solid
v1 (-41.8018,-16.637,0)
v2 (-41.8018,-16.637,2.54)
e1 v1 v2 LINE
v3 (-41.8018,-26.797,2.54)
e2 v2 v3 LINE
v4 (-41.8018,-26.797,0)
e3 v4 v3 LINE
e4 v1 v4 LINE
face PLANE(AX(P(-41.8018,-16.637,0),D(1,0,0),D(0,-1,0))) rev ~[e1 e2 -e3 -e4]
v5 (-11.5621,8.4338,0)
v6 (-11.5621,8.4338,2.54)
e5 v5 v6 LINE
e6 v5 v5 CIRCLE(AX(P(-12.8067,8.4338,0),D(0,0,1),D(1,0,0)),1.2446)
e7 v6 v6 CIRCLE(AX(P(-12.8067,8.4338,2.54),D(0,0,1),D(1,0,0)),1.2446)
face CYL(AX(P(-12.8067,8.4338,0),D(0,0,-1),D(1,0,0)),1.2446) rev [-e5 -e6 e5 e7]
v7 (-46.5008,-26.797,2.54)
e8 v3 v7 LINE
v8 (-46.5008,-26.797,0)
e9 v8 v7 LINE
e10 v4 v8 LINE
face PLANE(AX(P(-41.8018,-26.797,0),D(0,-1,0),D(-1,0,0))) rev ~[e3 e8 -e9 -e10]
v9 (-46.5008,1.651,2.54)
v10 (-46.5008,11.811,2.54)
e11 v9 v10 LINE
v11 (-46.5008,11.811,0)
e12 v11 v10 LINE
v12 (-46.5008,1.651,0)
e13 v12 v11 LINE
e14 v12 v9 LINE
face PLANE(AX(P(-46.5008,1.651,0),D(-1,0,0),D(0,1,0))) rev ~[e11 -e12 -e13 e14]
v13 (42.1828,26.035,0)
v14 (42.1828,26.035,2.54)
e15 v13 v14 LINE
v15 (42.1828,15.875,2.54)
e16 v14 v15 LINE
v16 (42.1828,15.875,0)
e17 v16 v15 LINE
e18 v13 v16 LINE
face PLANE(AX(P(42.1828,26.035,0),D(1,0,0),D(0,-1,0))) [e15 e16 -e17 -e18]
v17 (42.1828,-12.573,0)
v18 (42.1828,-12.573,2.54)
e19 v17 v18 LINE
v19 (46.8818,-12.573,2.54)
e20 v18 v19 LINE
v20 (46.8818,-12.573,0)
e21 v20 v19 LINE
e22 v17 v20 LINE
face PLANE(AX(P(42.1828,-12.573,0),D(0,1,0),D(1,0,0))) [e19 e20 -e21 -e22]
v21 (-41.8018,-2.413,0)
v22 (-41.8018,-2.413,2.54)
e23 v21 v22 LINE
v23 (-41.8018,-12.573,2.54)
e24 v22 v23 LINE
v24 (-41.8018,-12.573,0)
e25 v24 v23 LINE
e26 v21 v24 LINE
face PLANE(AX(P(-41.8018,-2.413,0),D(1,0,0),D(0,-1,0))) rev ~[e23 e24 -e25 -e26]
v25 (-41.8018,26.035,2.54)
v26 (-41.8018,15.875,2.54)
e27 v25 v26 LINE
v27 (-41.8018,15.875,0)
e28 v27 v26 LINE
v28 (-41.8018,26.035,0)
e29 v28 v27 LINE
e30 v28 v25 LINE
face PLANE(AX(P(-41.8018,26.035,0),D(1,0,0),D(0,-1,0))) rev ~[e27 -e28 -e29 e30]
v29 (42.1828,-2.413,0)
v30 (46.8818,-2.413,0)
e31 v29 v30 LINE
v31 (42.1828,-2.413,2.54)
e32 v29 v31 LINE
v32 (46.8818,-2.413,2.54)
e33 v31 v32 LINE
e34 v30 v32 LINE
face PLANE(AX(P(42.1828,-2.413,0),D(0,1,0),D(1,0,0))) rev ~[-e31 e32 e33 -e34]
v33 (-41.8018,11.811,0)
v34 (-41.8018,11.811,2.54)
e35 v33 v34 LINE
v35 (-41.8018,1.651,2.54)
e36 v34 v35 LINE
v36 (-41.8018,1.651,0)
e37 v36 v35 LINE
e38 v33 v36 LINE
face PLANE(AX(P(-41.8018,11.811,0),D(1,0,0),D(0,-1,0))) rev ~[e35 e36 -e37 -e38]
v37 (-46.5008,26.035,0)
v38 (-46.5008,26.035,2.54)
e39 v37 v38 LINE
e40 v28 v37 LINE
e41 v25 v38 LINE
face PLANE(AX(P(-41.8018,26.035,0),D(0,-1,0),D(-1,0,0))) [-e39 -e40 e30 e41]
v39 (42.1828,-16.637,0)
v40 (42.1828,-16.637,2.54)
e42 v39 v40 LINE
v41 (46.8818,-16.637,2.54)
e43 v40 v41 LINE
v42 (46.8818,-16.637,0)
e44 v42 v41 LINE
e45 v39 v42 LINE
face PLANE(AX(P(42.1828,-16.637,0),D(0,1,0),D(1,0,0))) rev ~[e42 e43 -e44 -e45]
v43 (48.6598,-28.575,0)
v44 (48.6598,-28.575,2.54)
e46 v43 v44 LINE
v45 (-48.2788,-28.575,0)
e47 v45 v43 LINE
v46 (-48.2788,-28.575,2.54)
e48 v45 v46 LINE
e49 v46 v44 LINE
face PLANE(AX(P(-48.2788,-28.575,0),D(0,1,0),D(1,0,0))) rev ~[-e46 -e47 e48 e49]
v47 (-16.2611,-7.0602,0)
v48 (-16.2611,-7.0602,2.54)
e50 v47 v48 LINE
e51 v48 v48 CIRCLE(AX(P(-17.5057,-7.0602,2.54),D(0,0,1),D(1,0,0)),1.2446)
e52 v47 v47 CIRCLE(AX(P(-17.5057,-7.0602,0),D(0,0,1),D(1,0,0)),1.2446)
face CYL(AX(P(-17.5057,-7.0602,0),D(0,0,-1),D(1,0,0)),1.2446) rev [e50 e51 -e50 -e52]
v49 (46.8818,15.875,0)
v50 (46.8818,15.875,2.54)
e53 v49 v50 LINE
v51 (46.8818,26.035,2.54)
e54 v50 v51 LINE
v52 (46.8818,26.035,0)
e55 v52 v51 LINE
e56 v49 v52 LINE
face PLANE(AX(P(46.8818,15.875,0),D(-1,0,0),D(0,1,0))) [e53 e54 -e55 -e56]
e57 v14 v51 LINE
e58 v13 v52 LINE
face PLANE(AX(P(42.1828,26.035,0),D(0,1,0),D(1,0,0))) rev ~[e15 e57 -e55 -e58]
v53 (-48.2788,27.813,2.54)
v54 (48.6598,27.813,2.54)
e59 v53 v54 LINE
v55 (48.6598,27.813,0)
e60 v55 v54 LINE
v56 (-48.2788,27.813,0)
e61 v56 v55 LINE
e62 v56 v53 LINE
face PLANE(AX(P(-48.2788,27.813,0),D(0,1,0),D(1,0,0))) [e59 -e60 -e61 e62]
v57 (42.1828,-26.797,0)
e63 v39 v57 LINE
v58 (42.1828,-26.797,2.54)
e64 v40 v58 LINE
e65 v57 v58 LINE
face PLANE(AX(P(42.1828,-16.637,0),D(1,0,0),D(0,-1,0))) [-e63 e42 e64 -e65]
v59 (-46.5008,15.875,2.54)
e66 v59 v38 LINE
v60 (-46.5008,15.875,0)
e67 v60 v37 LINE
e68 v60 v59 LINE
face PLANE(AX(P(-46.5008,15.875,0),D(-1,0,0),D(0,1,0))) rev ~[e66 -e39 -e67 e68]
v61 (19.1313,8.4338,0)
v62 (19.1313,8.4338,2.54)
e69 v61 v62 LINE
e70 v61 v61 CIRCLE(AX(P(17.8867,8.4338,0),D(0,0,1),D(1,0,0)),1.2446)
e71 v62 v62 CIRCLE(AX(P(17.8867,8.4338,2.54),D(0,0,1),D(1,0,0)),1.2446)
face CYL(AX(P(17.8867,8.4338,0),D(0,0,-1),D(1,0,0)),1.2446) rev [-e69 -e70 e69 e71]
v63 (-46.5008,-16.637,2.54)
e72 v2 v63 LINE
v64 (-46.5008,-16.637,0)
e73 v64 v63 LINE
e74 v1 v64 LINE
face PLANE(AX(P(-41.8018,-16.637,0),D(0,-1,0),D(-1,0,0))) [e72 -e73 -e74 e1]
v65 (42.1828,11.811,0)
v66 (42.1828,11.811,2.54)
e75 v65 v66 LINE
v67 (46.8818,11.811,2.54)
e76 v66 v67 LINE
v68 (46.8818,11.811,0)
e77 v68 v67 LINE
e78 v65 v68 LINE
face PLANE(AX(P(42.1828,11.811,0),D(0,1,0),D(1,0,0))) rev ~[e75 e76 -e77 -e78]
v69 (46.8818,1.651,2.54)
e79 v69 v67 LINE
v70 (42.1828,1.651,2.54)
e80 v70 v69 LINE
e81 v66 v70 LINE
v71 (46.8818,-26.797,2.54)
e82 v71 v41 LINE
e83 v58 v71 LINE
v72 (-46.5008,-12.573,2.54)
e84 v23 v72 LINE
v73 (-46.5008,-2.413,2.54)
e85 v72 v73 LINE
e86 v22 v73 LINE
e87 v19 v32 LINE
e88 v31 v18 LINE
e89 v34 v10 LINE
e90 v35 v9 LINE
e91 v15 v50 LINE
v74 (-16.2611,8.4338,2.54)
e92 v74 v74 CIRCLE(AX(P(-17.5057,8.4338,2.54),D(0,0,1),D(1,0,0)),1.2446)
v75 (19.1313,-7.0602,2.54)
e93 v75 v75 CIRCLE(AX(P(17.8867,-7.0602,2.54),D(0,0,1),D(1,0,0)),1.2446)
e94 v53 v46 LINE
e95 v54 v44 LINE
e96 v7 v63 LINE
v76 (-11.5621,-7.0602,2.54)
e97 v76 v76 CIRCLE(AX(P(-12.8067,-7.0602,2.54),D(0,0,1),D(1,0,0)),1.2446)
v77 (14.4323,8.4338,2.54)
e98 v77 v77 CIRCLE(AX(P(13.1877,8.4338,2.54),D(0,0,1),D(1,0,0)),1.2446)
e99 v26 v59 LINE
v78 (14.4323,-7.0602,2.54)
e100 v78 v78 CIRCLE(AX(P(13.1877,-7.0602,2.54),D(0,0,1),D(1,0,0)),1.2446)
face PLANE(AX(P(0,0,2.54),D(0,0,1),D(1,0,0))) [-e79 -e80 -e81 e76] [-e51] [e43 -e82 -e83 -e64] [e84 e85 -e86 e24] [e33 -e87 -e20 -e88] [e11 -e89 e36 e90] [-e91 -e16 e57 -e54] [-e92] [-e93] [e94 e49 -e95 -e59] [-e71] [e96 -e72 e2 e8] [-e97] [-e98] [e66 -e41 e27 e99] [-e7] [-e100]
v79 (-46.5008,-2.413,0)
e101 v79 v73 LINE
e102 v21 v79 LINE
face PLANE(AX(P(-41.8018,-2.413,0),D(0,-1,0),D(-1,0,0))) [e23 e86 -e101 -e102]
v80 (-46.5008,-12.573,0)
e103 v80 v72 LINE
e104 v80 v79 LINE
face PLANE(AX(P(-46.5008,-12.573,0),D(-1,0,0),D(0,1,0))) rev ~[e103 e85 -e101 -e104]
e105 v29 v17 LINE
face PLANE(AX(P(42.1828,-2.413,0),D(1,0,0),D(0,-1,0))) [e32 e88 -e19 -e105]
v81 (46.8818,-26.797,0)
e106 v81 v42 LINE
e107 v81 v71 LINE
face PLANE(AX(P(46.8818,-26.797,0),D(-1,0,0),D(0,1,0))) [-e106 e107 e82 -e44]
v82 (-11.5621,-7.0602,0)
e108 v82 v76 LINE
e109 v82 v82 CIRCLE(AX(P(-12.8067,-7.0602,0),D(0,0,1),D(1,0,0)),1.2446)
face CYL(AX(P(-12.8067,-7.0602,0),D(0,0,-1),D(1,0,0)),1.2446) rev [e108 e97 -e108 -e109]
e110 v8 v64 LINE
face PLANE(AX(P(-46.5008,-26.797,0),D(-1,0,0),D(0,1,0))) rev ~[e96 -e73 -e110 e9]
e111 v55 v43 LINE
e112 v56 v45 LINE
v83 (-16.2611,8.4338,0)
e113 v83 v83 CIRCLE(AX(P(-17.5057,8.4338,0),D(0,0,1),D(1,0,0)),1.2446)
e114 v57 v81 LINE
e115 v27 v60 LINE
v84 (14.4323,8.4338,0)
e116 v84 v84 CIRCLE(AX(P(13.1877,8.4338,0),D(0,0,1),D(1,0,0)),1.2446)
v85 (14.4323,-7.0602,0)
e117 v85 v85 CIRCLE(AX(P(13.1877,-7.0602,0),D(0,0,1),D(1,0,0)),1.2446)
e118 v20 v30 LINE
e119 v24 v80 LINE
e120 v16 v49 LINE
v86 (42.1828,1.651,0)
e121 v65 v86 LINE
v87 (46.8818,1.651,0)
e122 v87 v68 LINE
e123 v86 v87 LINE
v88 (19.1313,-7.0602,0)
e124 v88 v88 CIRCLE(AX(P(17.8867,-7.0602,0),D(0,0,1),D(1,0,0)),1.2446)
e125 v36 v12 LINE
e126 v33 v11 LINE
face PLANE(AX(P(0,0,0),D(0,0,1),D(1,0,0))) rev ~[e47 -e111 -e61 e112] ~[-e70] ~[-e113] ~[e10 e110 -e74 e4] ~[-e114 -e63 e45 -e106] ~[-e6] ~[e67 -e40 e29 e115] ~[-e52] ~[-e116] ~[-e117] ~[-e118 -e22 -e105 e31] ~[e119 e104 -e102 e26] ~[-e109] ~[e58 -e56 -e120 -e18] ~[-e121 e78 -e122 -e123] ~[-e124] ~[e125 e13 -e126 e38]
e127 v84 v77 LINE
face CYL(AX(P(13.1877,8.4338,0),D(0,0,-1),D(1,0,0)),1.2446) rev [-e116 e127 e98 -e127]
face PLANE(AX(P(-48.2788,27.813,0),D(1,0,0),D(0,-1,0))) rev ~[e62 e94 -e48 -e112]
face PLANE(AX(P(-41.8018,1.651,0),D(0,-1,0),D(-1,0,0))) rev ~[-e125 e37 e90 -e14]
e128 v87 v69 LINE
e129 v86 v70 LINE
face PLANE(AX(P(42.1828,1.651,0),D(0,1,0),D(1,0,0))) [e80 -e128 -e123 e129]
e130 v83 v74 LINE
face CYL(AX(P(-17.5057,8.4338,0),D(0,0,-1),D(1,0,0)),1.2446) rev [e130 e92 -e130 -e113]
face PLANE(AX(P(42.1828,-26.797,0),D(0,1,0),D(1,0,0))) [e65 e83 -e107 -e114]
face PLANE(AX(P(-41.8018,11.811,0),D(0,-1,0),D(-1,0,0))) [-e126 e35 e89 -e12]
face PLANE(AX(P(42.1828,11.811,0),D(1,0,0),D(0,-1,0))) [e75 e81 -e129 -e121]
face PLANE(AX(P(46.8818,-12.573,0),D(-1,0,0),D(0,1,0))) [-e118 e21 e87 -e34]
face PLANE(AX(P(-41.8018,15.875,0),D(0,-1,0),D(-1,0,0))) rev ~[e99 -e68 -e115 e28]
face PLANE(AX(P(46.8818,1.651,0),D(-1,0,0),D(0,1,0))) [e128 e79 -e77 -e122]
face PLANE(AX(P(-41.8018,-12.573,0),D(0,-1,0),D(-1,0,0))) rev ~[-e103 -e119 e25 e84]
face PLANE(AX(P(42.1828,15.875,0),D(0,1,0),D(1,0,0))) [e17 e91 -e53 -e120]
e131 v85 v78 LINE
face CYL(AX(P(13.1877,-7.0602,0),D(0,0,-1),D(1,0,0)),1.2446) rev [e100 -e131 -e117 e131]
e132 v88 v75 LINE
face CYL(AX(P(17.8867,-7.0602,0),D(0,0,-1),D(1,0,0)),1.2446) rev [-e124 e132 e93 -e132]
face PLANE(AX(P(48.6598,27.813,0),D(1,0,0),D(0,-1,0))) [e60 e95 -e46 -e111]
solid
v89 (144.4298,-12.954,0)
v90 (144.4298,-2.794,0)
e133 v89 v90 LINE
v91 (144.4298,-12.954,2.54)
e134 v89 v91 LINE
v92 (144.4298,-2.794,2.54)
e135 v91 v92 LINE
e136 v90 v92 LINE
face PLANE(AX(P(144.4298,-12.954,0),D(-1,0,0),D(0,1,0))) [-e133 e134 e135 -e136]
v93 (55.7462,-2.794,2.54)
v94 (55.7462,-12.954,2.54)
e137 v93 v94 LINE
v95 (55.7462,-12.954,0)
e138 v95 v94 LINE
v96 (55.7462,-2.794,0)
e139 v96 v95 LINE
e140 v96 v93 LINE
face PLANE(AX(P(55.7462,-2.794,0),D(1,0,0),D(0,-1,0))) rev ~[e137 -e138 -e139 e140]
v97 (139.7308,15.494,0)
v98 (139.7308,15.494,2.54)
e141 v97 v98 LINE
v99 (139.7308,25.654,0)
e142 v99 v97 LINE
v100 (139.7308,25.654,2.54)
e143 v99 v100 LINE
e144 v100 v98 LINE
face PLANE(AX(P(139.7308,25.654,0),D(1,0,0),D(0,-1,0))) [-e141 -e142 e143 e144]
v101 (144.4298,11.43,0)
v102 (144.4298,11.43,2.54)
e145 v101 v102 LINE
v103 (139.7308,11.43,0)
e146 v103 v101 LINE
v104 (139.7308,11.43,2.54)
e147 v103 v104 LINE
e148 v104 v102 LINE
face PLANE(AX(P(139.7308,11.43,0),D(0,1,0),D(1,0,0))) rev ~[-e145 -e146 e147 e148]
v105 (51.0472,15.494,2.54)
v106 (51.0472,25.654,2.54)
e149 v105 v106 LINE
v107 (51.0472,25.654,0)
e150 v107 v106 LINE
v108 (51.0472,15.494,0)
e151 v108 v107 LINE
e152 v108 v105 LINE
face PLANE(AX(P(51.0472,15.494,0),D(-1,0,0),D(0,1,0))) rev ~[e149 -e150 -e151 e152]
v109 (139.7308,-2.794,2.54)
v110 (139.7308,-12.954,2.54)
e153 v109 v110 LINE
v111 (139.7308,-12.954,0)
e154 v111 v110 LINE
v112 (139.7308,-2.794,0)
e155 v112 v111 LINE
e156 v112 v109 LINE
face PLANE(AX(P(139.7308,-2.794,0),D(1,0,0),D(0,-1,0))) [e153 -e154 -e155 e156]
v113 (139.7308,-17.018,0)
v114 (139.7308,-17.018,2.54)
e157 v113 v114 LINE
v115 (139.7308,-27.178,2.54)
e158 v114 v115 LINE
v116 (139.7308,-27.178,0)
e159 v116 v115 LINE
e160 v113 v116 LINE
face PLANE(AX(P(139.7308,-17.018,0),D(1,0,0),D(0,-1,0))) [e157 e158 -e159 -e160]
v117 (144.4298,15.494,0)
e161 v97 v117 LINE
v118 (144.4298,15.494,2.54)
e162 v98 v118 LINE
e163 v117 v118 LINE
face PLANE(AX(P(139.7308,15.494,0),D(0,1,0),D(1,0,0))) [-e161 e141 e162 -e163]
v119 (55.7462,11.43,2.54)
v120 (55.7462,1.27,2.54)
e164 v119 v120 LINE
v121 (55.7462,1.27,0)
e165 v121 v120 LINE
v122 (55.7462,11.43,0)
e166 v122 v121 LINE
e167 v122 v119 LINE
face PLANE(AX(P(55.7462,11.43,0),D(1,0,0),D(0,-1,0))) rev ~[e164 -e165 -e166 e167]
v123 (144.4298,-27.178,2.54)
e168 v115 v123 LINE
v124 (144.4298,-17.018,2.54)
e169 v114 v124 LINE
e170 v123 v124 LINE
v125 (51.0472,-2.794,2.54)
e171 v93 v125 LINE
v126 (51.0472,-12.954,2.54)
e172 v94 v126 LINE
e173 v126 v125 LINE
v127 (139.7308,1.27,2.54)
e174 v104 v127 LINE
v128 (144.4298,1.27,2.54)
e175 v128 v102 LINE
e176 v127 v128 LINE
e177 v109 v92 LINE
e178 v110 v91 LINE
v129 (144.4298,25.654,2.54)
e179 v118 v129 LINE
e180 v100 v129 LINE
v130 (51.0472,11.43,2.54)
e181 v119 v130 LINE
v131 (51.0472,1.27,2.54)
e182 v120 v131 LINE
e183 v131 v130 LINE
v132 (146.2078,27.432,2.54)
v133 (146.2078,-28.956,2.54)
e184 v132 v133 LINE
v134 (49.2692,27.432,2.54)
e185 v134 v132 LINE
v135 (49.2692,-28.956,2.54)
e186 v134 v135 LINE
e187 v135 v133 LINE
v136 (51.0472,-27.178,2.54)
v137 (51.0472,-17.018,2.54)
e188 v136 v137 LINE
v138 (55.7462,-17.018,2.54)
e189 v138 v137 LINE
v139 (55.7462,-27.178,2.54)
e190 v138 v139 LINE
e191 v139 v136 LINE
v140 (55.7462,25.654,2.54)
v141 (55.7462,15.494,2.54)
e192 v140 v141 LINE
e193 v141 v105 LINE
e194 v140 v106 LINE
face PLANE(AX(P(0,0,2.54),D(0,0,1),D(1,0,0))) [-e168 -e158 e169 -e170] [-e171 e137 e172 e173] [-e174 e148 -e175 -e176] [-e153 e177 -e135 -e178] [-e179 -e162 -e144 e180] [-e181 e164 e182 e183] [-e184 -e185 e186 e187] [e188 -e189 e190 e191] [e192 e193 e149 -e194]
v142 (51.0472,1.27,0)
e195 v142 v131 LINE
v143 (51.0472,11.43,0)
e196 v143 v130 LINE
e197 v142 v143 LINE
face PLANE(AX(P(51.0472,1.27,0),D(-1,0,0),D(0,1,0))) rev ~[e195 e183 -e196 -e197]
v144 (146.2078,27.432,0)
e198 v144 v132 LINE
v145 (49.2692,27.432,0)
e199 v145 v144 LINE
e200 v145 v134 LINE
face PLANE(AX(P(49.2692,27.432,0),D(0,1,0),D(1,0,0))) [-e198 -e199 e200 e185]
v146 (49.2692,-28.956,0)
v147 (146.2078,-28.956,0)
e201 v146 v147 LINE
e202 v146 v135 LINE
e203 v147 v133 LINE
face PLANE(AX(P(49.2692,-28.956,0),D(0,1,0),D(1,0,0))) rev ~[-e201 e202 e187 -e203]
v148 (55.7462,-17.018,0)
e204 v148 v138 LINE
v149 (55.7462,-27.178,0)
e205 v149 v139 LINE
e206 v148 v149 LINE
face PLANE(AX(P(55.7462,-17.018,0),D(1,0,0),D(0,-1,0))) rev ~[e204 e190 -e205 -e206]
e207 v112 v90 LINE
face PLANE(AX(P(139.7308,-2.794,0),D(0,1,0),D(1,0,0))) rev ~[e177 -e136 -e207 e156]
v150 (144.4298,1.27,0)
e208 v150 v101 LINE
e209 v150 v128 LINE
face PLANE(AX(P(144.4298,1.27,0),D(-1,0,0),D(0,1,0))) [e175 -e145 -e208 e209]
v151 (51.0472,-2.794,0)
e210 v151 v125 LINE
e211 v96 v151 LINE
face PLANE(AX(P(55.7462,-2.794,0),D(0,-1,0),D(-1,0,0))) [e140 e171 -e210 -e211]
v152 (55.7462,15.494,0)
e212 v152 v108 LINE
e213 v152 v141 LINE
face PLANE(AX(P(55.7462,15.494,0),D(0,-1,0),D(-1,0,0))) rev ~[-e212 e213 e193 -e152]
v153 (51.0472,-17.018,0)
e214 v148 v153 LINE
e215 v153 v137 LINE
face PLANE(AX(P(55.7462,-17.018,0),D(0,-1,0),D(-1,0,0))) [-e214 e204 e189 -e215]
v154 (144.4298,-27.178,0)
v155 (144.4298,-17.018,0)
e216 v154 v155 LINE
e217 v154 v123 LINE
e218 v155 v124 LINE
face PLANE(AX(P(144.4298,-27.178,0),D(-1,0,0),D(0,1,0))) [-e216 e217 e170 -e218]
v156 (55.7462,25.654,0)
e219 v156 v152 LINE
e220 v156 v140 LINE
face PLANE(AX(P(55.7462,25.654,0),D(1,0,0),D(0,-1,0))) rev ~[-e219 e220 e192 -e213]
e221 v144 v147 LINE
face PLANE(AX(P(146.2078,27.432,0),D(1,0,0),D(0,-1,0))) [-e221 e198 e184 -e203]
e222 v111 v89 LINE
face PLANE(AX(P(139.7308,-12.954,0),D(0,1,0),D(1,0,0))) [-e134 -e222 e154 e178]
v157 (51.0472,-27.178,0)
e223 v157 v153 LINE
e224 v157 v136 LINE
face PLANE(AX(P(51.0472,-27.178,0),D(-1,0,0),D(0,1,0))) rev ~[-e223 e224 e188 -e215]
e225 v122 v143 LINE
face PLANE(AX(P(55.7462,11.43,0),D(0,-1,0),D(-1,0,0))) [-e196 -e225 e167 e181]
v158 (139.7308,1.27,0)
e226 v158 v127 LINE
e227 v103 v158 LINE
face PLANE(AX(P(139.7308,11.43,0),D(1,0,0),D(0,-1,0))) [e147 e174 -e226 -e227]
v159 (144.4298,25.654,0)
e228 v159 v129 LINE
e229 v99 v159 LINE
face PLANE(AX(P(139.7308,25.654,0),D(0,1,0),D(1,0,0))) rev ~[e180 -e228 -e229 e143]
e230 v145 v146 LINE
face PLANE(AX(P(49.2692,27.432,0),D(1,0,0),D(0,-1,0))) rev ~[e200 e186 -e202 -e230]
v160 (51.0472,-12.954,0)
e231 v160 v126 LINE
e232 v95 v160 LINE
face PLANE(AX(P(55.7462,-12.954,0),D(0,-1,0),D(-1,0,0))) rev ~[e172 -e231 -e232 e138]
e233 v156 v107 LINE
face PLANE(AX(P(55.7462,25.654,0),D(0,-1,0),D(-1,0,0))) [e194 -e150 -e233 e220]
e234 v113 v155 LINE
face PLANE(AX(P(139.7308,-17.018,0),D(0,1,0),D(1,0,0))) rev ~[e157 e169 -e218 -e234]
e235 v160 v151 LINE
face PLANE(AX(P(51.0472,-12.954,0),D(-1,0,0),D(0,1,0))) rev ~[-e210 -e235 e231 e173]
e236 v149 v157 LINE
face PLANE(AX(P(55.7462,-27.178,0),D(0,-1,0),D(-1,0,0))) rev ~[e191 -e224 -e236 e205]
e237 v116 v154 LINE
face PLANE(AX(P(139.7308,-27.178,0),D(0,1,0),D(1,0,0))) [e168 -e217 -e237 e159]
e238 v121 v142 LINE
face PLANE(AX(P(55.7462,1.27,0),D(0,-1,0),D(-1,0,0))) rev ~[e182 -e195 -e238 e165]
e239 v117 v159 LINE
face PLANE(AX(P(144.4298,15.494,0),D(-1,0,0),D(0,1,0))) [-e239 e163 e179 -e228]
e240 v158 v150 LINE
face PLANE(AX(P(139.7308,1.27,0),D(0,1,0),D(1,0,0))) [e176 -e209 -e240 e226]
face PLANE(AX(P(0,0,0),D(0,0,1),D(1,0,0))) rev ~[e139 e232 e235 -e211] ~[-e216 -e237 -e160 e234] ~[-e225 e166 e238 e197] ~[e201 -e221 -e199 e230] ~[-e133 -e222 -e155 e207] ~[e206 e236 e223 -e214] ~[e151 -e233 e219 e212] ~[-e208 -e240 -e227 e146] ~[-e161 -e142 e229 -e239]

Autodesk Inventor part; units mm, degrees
ref_plane "YZ Plane" through (0, 0, 0) normal (1, 0, 0) x (0, 1, 0)
ref_plane "XZ Plane" through (0, 0, 0) normal (0, 1, 0) x (-1, 0, 0)
ref_plane "XY Plane" through (0, 0, 0) normal (0, 0, 1) x (1, 0, 0)
sketch "Sketch1" plane through (0, 0, 0) normal (0, 0, 1) x (1, 0, 0)
  circle A0 centre (17.8867, 8.4338) radius 1.2446
  circle A1 centre (17.8867, -7.0602) radius 1.2446
  circle A2 centre (13.1877, -7.0602) radius 1.2446
  circle A3 centre (13.1877, 8.4338) radius 1.2446
  line L0 (42.1828, 26.035) -> (42.1828, 15.875)
  line L1 (42.1828, 15.875) -> (46.8818, 15.875)
  line L2 (46.8818, 15.875) -> (46.8818, 26.035)
  line L3 (42.1828, 26.035) -> (46.8818, 26.035)
  line L4 (48.6598, 27.813) -> (48.6598, -28.575)
  line L5 (42.1828, 1.651) -> (46.8818, 1.651)
  line L6 (42.1828, 11.811) -> (42.1828, 1.651)
  line L7 (46.8818, 1.651) -> (46.8818, 11.811)
  line L8 (42.1828, 11.811) -> (46.8818, 11.811)
  line L9 (42.1828, -12.573) -> (46.8818, -12.573)
  line L10 (42.1828, -2.413) -> (42.1828, -12.573)
  line L11 (46.8818, -12.573) -> (46.8818, -2.413)
  line L12 (42.1828, -2.413) -> (46.8818, -2.413)
  line L13 (42.1828, -26.797) -> (46.8818, -26.797)
  line L14 (42.1828, -16.637) -> (42.1828, -26.797)
  line L15 (46.8818, -26.797) -> (46.8818, -16.637)
  line L16 (42.1828, -16.637) -> (46.8818, -16.637)
  line L17 (-41.8018, 26.035) -> (-41.8018, 15.875)
  line L18 (-41.8018, 15.875) -> (-46.5008, 15.875)
  line L19 (-46.5008, 15.875) -> (-46.5008, 26.035)
  line L20 (-41.8018, 26.035) -> (-46.5008, 26.035)
  line L21 (-48.2788, 27.813) -> (-48.2788, -28.575)
  line L22 (-41.8018, 1.651) -> (-46.5008, 1.651)
  line L23 (-41.8018, 11.811) -> (-41.8018, 1.651)
  line L24 (-46.5008, 1.651) -> (-46.5008, 11.811)
  line L25 (-41.8018, 11.811) -> (-46.5008, 11.811)
  line L26 (-41.8018, -12.573) -> (-46.5008, -12.573)
  line L27 (-41.8018, -2.413) -> (-41.8018, -12.573)
  line L28 (-46.5008, -12.573) -> (-46.5008, -2.413)
  line L29 (-41.8018, -2.413) -> (-46.5008, -2.413)
  line L30 (-41.8018, -26.797) -> (-46.5008, -26.797)
  line L31 (-41.8018, -16.637) -> (-41.8018, -26.797)
  line L32 (-46.5008, -26.797) -> (-46.5008, -16.637)
  line L33 (-41.8018, -16.637) -> (-46.5008, -16.637)
  line L34 (-48.2788, 27.813) -> (48.6598, 27.813)
  line L35 (-48.2788, -28.575) -> (48.6598, -28.575)
  line L36 (139.7308, 25.654) -> (139.7308, 15.494)
  line L37 (139.7308, 15.494) -> (144.4298, 15.494)
  line L38 (144.4298, 15.494) -> (144.4298, 25.654)
  line L39 (139.7308, 25.654) -> (144.4298, 25.654)
  line L40 (146.2078, 27.432) -> (146.2078, -28.956)
  line L41 (139.7308, 1.27) -> (144.4298, 1.27)
  line L42 (139.7308, 11.43) -> (139.7308, 1.27)
  line L43 (144.4298, 1.27) -> (144.4298, 11.43)
  line L44 (139.7308, 11.43) -> (144.4298, 11.43)
  line L45 (139.7308, -12.954) -> (144.4298, -12.954)
  line L46 (139.7308, -2.794) -> (139.7308, -12.954)
  line L47 (144.4298, -12.954) -> (144.4298, -2.794)
  line L48 (139.7308, -2.794) -> (144.4298, -2.794)
  line L49 (139.7308, -27.178) -> (144.4298, -27.178)
  line L50 (139.7308, -17.018) -> (139.7308, -27.178)
  line L51 (144.4298, -27.178) -> (144.4298, -17.018)
  line L52 (139.7308, -17.018) -> (144.4298, -17.018)
  line L53 (55.7462, 15.494) -> (51.0472, 15.494)
  line L54 (55.7462, 25.654) -> (55.7462, 15.494)
  line L55 (51.0472, 15.494) -> (51.0472, 25.654)
  line L56 (55.7462, 25.654) -> (51.0472, 25.654)
  line L57 (55.7462, 11.43) -> (55.7462, 1.27)
  line L58 (51.0472, 1.27) -> (51.0472, 11.43)
  line L59 (55.7462, 11.43) -> (51.0472, 11.43)
  line L60 (55.7462, 1.27) -> (51.0472, 1.27)
  line L61 (55.7462, -2.794) -> (55.7462, -12.954)
  line L62 (51.0472, -12.954) -> (51.0472, -2.794)
  line L63 (55.7462, -2.794) -> (51.0472, -2.794)
  line L64 (55.7462, -12.954) -> (51.0472, -12.954)
  line L65 (55.7462, -17.018) -> (51.0472, -17.018)
  line L66 (55.7462, -17.018) -> (55.7462, -27.178)
  line L67 (51.0472, -27.178) -> (51.0472, -17.018)
  line L68 (55.7462, -27.178) -> (51.0472, -27.178)
  line L69 (49.2692, 27.432) -> (49.2692, -28.956)
  line L70 (49.2692, 27.432) -> (146.2078, 27.432)
  line L71 (49.2692, -28.956) -> (146.2078, -28.956)
  circle A4 centre (-17.5057, -7.0602) radius 1.2446
  circle A5 centre (-17.5057, 8.4338) radius 1.2446
  circle A6 centre (-12.8067, -7.0602) radius 1.2446
  circle A7 centre (-12.8067, 8.4338) radius 1.2446
  point P0 (0, 0)
  point P1 (0, 0)
  point P2 (0, 0)
  point P3 (0, 0)
  point P4 (0, 0)
  point P5 (0, 0)
  point P6 (0, 0)
  point P7 (0, 0)
  point P8 (0, 0)
  point P9 (0, 0)
  point P10 (0, 0)
  point P11 (0, 0)
  point P12 (0, 0)
  point P13 (0, 0)
  point P14 (0, 0)
  point P15 (0, 0)
  point P16 (97.548, -0.381)
  point P17 (97.548, -0.381)
  point P18 (97.548, -0.381)
  point P19 (97.548, -0.381)
  point P20 (97.548, -0.381)
  point P21 (97.548, -0.381)
  point P22 (97.548, -0.381)
  point P23 (97.548, -0.381)
  point P24 (97.548, -0.381)
  point P25 (97.548, -0.381)
  point P26 (97.548, -0.381)
  point P27 (97.548, -0.381)
  point P28 (97.548, -0.381)
  point P29 (97.548, -0.381)
  point P30 (97.548, -0.381)
  dimension "d2" = 2.4892
  dimension "d3" = 2.4892
  dimension "d5" = 15.494
  dimension "d7" = 2.4892
  dimension "d8" = 2.4892
  dimension "d9" = 15.494
  dimension "d10" = 4.699
  dimension "d19" = 4.699
  dimension "d23" = 4.699
  dimension "d24" = 10.16
  dimension "d145" = 14.224
  dimension "d190" = 10.16
  dimension "d192" = 1.778
  dimension "d212" = 1.778
  dimension "d215" = 1.778
  dimension "d216" = 4.064
  dimension "d217" = 4.064
  dimension "d218" = 4.064
  dimension "d219" = 10.16
  dimension "d220" = 10.16
  dimension "d221" = 10.16
  dimension "d222" = 4.064
  dimension "d223" = 1.778
  dimension "d268" = 4.699
  dimension "d269" = 10.16
  dimension "d270" = 14.224
  dimension "d271" = 10.16
  dimension "d272" = 1.778
  dimension "d273" = 1.778
  dimension "d274" = 1.778
  dimension "d275" = 4.064
  dimension "d276" = 4.064
  dimension "d277" = 4.064
  dimension "d278" = 10.16
  dimension "d279" = 10.16
  dimension "d280" = 10.16
  dimension "d281" = 4.064
  dimension "d282" = 1.778
extrude "Extrusion13" add sketch "Sketch1" along normal blind 2.54
properties part number "RTS New Frame"
